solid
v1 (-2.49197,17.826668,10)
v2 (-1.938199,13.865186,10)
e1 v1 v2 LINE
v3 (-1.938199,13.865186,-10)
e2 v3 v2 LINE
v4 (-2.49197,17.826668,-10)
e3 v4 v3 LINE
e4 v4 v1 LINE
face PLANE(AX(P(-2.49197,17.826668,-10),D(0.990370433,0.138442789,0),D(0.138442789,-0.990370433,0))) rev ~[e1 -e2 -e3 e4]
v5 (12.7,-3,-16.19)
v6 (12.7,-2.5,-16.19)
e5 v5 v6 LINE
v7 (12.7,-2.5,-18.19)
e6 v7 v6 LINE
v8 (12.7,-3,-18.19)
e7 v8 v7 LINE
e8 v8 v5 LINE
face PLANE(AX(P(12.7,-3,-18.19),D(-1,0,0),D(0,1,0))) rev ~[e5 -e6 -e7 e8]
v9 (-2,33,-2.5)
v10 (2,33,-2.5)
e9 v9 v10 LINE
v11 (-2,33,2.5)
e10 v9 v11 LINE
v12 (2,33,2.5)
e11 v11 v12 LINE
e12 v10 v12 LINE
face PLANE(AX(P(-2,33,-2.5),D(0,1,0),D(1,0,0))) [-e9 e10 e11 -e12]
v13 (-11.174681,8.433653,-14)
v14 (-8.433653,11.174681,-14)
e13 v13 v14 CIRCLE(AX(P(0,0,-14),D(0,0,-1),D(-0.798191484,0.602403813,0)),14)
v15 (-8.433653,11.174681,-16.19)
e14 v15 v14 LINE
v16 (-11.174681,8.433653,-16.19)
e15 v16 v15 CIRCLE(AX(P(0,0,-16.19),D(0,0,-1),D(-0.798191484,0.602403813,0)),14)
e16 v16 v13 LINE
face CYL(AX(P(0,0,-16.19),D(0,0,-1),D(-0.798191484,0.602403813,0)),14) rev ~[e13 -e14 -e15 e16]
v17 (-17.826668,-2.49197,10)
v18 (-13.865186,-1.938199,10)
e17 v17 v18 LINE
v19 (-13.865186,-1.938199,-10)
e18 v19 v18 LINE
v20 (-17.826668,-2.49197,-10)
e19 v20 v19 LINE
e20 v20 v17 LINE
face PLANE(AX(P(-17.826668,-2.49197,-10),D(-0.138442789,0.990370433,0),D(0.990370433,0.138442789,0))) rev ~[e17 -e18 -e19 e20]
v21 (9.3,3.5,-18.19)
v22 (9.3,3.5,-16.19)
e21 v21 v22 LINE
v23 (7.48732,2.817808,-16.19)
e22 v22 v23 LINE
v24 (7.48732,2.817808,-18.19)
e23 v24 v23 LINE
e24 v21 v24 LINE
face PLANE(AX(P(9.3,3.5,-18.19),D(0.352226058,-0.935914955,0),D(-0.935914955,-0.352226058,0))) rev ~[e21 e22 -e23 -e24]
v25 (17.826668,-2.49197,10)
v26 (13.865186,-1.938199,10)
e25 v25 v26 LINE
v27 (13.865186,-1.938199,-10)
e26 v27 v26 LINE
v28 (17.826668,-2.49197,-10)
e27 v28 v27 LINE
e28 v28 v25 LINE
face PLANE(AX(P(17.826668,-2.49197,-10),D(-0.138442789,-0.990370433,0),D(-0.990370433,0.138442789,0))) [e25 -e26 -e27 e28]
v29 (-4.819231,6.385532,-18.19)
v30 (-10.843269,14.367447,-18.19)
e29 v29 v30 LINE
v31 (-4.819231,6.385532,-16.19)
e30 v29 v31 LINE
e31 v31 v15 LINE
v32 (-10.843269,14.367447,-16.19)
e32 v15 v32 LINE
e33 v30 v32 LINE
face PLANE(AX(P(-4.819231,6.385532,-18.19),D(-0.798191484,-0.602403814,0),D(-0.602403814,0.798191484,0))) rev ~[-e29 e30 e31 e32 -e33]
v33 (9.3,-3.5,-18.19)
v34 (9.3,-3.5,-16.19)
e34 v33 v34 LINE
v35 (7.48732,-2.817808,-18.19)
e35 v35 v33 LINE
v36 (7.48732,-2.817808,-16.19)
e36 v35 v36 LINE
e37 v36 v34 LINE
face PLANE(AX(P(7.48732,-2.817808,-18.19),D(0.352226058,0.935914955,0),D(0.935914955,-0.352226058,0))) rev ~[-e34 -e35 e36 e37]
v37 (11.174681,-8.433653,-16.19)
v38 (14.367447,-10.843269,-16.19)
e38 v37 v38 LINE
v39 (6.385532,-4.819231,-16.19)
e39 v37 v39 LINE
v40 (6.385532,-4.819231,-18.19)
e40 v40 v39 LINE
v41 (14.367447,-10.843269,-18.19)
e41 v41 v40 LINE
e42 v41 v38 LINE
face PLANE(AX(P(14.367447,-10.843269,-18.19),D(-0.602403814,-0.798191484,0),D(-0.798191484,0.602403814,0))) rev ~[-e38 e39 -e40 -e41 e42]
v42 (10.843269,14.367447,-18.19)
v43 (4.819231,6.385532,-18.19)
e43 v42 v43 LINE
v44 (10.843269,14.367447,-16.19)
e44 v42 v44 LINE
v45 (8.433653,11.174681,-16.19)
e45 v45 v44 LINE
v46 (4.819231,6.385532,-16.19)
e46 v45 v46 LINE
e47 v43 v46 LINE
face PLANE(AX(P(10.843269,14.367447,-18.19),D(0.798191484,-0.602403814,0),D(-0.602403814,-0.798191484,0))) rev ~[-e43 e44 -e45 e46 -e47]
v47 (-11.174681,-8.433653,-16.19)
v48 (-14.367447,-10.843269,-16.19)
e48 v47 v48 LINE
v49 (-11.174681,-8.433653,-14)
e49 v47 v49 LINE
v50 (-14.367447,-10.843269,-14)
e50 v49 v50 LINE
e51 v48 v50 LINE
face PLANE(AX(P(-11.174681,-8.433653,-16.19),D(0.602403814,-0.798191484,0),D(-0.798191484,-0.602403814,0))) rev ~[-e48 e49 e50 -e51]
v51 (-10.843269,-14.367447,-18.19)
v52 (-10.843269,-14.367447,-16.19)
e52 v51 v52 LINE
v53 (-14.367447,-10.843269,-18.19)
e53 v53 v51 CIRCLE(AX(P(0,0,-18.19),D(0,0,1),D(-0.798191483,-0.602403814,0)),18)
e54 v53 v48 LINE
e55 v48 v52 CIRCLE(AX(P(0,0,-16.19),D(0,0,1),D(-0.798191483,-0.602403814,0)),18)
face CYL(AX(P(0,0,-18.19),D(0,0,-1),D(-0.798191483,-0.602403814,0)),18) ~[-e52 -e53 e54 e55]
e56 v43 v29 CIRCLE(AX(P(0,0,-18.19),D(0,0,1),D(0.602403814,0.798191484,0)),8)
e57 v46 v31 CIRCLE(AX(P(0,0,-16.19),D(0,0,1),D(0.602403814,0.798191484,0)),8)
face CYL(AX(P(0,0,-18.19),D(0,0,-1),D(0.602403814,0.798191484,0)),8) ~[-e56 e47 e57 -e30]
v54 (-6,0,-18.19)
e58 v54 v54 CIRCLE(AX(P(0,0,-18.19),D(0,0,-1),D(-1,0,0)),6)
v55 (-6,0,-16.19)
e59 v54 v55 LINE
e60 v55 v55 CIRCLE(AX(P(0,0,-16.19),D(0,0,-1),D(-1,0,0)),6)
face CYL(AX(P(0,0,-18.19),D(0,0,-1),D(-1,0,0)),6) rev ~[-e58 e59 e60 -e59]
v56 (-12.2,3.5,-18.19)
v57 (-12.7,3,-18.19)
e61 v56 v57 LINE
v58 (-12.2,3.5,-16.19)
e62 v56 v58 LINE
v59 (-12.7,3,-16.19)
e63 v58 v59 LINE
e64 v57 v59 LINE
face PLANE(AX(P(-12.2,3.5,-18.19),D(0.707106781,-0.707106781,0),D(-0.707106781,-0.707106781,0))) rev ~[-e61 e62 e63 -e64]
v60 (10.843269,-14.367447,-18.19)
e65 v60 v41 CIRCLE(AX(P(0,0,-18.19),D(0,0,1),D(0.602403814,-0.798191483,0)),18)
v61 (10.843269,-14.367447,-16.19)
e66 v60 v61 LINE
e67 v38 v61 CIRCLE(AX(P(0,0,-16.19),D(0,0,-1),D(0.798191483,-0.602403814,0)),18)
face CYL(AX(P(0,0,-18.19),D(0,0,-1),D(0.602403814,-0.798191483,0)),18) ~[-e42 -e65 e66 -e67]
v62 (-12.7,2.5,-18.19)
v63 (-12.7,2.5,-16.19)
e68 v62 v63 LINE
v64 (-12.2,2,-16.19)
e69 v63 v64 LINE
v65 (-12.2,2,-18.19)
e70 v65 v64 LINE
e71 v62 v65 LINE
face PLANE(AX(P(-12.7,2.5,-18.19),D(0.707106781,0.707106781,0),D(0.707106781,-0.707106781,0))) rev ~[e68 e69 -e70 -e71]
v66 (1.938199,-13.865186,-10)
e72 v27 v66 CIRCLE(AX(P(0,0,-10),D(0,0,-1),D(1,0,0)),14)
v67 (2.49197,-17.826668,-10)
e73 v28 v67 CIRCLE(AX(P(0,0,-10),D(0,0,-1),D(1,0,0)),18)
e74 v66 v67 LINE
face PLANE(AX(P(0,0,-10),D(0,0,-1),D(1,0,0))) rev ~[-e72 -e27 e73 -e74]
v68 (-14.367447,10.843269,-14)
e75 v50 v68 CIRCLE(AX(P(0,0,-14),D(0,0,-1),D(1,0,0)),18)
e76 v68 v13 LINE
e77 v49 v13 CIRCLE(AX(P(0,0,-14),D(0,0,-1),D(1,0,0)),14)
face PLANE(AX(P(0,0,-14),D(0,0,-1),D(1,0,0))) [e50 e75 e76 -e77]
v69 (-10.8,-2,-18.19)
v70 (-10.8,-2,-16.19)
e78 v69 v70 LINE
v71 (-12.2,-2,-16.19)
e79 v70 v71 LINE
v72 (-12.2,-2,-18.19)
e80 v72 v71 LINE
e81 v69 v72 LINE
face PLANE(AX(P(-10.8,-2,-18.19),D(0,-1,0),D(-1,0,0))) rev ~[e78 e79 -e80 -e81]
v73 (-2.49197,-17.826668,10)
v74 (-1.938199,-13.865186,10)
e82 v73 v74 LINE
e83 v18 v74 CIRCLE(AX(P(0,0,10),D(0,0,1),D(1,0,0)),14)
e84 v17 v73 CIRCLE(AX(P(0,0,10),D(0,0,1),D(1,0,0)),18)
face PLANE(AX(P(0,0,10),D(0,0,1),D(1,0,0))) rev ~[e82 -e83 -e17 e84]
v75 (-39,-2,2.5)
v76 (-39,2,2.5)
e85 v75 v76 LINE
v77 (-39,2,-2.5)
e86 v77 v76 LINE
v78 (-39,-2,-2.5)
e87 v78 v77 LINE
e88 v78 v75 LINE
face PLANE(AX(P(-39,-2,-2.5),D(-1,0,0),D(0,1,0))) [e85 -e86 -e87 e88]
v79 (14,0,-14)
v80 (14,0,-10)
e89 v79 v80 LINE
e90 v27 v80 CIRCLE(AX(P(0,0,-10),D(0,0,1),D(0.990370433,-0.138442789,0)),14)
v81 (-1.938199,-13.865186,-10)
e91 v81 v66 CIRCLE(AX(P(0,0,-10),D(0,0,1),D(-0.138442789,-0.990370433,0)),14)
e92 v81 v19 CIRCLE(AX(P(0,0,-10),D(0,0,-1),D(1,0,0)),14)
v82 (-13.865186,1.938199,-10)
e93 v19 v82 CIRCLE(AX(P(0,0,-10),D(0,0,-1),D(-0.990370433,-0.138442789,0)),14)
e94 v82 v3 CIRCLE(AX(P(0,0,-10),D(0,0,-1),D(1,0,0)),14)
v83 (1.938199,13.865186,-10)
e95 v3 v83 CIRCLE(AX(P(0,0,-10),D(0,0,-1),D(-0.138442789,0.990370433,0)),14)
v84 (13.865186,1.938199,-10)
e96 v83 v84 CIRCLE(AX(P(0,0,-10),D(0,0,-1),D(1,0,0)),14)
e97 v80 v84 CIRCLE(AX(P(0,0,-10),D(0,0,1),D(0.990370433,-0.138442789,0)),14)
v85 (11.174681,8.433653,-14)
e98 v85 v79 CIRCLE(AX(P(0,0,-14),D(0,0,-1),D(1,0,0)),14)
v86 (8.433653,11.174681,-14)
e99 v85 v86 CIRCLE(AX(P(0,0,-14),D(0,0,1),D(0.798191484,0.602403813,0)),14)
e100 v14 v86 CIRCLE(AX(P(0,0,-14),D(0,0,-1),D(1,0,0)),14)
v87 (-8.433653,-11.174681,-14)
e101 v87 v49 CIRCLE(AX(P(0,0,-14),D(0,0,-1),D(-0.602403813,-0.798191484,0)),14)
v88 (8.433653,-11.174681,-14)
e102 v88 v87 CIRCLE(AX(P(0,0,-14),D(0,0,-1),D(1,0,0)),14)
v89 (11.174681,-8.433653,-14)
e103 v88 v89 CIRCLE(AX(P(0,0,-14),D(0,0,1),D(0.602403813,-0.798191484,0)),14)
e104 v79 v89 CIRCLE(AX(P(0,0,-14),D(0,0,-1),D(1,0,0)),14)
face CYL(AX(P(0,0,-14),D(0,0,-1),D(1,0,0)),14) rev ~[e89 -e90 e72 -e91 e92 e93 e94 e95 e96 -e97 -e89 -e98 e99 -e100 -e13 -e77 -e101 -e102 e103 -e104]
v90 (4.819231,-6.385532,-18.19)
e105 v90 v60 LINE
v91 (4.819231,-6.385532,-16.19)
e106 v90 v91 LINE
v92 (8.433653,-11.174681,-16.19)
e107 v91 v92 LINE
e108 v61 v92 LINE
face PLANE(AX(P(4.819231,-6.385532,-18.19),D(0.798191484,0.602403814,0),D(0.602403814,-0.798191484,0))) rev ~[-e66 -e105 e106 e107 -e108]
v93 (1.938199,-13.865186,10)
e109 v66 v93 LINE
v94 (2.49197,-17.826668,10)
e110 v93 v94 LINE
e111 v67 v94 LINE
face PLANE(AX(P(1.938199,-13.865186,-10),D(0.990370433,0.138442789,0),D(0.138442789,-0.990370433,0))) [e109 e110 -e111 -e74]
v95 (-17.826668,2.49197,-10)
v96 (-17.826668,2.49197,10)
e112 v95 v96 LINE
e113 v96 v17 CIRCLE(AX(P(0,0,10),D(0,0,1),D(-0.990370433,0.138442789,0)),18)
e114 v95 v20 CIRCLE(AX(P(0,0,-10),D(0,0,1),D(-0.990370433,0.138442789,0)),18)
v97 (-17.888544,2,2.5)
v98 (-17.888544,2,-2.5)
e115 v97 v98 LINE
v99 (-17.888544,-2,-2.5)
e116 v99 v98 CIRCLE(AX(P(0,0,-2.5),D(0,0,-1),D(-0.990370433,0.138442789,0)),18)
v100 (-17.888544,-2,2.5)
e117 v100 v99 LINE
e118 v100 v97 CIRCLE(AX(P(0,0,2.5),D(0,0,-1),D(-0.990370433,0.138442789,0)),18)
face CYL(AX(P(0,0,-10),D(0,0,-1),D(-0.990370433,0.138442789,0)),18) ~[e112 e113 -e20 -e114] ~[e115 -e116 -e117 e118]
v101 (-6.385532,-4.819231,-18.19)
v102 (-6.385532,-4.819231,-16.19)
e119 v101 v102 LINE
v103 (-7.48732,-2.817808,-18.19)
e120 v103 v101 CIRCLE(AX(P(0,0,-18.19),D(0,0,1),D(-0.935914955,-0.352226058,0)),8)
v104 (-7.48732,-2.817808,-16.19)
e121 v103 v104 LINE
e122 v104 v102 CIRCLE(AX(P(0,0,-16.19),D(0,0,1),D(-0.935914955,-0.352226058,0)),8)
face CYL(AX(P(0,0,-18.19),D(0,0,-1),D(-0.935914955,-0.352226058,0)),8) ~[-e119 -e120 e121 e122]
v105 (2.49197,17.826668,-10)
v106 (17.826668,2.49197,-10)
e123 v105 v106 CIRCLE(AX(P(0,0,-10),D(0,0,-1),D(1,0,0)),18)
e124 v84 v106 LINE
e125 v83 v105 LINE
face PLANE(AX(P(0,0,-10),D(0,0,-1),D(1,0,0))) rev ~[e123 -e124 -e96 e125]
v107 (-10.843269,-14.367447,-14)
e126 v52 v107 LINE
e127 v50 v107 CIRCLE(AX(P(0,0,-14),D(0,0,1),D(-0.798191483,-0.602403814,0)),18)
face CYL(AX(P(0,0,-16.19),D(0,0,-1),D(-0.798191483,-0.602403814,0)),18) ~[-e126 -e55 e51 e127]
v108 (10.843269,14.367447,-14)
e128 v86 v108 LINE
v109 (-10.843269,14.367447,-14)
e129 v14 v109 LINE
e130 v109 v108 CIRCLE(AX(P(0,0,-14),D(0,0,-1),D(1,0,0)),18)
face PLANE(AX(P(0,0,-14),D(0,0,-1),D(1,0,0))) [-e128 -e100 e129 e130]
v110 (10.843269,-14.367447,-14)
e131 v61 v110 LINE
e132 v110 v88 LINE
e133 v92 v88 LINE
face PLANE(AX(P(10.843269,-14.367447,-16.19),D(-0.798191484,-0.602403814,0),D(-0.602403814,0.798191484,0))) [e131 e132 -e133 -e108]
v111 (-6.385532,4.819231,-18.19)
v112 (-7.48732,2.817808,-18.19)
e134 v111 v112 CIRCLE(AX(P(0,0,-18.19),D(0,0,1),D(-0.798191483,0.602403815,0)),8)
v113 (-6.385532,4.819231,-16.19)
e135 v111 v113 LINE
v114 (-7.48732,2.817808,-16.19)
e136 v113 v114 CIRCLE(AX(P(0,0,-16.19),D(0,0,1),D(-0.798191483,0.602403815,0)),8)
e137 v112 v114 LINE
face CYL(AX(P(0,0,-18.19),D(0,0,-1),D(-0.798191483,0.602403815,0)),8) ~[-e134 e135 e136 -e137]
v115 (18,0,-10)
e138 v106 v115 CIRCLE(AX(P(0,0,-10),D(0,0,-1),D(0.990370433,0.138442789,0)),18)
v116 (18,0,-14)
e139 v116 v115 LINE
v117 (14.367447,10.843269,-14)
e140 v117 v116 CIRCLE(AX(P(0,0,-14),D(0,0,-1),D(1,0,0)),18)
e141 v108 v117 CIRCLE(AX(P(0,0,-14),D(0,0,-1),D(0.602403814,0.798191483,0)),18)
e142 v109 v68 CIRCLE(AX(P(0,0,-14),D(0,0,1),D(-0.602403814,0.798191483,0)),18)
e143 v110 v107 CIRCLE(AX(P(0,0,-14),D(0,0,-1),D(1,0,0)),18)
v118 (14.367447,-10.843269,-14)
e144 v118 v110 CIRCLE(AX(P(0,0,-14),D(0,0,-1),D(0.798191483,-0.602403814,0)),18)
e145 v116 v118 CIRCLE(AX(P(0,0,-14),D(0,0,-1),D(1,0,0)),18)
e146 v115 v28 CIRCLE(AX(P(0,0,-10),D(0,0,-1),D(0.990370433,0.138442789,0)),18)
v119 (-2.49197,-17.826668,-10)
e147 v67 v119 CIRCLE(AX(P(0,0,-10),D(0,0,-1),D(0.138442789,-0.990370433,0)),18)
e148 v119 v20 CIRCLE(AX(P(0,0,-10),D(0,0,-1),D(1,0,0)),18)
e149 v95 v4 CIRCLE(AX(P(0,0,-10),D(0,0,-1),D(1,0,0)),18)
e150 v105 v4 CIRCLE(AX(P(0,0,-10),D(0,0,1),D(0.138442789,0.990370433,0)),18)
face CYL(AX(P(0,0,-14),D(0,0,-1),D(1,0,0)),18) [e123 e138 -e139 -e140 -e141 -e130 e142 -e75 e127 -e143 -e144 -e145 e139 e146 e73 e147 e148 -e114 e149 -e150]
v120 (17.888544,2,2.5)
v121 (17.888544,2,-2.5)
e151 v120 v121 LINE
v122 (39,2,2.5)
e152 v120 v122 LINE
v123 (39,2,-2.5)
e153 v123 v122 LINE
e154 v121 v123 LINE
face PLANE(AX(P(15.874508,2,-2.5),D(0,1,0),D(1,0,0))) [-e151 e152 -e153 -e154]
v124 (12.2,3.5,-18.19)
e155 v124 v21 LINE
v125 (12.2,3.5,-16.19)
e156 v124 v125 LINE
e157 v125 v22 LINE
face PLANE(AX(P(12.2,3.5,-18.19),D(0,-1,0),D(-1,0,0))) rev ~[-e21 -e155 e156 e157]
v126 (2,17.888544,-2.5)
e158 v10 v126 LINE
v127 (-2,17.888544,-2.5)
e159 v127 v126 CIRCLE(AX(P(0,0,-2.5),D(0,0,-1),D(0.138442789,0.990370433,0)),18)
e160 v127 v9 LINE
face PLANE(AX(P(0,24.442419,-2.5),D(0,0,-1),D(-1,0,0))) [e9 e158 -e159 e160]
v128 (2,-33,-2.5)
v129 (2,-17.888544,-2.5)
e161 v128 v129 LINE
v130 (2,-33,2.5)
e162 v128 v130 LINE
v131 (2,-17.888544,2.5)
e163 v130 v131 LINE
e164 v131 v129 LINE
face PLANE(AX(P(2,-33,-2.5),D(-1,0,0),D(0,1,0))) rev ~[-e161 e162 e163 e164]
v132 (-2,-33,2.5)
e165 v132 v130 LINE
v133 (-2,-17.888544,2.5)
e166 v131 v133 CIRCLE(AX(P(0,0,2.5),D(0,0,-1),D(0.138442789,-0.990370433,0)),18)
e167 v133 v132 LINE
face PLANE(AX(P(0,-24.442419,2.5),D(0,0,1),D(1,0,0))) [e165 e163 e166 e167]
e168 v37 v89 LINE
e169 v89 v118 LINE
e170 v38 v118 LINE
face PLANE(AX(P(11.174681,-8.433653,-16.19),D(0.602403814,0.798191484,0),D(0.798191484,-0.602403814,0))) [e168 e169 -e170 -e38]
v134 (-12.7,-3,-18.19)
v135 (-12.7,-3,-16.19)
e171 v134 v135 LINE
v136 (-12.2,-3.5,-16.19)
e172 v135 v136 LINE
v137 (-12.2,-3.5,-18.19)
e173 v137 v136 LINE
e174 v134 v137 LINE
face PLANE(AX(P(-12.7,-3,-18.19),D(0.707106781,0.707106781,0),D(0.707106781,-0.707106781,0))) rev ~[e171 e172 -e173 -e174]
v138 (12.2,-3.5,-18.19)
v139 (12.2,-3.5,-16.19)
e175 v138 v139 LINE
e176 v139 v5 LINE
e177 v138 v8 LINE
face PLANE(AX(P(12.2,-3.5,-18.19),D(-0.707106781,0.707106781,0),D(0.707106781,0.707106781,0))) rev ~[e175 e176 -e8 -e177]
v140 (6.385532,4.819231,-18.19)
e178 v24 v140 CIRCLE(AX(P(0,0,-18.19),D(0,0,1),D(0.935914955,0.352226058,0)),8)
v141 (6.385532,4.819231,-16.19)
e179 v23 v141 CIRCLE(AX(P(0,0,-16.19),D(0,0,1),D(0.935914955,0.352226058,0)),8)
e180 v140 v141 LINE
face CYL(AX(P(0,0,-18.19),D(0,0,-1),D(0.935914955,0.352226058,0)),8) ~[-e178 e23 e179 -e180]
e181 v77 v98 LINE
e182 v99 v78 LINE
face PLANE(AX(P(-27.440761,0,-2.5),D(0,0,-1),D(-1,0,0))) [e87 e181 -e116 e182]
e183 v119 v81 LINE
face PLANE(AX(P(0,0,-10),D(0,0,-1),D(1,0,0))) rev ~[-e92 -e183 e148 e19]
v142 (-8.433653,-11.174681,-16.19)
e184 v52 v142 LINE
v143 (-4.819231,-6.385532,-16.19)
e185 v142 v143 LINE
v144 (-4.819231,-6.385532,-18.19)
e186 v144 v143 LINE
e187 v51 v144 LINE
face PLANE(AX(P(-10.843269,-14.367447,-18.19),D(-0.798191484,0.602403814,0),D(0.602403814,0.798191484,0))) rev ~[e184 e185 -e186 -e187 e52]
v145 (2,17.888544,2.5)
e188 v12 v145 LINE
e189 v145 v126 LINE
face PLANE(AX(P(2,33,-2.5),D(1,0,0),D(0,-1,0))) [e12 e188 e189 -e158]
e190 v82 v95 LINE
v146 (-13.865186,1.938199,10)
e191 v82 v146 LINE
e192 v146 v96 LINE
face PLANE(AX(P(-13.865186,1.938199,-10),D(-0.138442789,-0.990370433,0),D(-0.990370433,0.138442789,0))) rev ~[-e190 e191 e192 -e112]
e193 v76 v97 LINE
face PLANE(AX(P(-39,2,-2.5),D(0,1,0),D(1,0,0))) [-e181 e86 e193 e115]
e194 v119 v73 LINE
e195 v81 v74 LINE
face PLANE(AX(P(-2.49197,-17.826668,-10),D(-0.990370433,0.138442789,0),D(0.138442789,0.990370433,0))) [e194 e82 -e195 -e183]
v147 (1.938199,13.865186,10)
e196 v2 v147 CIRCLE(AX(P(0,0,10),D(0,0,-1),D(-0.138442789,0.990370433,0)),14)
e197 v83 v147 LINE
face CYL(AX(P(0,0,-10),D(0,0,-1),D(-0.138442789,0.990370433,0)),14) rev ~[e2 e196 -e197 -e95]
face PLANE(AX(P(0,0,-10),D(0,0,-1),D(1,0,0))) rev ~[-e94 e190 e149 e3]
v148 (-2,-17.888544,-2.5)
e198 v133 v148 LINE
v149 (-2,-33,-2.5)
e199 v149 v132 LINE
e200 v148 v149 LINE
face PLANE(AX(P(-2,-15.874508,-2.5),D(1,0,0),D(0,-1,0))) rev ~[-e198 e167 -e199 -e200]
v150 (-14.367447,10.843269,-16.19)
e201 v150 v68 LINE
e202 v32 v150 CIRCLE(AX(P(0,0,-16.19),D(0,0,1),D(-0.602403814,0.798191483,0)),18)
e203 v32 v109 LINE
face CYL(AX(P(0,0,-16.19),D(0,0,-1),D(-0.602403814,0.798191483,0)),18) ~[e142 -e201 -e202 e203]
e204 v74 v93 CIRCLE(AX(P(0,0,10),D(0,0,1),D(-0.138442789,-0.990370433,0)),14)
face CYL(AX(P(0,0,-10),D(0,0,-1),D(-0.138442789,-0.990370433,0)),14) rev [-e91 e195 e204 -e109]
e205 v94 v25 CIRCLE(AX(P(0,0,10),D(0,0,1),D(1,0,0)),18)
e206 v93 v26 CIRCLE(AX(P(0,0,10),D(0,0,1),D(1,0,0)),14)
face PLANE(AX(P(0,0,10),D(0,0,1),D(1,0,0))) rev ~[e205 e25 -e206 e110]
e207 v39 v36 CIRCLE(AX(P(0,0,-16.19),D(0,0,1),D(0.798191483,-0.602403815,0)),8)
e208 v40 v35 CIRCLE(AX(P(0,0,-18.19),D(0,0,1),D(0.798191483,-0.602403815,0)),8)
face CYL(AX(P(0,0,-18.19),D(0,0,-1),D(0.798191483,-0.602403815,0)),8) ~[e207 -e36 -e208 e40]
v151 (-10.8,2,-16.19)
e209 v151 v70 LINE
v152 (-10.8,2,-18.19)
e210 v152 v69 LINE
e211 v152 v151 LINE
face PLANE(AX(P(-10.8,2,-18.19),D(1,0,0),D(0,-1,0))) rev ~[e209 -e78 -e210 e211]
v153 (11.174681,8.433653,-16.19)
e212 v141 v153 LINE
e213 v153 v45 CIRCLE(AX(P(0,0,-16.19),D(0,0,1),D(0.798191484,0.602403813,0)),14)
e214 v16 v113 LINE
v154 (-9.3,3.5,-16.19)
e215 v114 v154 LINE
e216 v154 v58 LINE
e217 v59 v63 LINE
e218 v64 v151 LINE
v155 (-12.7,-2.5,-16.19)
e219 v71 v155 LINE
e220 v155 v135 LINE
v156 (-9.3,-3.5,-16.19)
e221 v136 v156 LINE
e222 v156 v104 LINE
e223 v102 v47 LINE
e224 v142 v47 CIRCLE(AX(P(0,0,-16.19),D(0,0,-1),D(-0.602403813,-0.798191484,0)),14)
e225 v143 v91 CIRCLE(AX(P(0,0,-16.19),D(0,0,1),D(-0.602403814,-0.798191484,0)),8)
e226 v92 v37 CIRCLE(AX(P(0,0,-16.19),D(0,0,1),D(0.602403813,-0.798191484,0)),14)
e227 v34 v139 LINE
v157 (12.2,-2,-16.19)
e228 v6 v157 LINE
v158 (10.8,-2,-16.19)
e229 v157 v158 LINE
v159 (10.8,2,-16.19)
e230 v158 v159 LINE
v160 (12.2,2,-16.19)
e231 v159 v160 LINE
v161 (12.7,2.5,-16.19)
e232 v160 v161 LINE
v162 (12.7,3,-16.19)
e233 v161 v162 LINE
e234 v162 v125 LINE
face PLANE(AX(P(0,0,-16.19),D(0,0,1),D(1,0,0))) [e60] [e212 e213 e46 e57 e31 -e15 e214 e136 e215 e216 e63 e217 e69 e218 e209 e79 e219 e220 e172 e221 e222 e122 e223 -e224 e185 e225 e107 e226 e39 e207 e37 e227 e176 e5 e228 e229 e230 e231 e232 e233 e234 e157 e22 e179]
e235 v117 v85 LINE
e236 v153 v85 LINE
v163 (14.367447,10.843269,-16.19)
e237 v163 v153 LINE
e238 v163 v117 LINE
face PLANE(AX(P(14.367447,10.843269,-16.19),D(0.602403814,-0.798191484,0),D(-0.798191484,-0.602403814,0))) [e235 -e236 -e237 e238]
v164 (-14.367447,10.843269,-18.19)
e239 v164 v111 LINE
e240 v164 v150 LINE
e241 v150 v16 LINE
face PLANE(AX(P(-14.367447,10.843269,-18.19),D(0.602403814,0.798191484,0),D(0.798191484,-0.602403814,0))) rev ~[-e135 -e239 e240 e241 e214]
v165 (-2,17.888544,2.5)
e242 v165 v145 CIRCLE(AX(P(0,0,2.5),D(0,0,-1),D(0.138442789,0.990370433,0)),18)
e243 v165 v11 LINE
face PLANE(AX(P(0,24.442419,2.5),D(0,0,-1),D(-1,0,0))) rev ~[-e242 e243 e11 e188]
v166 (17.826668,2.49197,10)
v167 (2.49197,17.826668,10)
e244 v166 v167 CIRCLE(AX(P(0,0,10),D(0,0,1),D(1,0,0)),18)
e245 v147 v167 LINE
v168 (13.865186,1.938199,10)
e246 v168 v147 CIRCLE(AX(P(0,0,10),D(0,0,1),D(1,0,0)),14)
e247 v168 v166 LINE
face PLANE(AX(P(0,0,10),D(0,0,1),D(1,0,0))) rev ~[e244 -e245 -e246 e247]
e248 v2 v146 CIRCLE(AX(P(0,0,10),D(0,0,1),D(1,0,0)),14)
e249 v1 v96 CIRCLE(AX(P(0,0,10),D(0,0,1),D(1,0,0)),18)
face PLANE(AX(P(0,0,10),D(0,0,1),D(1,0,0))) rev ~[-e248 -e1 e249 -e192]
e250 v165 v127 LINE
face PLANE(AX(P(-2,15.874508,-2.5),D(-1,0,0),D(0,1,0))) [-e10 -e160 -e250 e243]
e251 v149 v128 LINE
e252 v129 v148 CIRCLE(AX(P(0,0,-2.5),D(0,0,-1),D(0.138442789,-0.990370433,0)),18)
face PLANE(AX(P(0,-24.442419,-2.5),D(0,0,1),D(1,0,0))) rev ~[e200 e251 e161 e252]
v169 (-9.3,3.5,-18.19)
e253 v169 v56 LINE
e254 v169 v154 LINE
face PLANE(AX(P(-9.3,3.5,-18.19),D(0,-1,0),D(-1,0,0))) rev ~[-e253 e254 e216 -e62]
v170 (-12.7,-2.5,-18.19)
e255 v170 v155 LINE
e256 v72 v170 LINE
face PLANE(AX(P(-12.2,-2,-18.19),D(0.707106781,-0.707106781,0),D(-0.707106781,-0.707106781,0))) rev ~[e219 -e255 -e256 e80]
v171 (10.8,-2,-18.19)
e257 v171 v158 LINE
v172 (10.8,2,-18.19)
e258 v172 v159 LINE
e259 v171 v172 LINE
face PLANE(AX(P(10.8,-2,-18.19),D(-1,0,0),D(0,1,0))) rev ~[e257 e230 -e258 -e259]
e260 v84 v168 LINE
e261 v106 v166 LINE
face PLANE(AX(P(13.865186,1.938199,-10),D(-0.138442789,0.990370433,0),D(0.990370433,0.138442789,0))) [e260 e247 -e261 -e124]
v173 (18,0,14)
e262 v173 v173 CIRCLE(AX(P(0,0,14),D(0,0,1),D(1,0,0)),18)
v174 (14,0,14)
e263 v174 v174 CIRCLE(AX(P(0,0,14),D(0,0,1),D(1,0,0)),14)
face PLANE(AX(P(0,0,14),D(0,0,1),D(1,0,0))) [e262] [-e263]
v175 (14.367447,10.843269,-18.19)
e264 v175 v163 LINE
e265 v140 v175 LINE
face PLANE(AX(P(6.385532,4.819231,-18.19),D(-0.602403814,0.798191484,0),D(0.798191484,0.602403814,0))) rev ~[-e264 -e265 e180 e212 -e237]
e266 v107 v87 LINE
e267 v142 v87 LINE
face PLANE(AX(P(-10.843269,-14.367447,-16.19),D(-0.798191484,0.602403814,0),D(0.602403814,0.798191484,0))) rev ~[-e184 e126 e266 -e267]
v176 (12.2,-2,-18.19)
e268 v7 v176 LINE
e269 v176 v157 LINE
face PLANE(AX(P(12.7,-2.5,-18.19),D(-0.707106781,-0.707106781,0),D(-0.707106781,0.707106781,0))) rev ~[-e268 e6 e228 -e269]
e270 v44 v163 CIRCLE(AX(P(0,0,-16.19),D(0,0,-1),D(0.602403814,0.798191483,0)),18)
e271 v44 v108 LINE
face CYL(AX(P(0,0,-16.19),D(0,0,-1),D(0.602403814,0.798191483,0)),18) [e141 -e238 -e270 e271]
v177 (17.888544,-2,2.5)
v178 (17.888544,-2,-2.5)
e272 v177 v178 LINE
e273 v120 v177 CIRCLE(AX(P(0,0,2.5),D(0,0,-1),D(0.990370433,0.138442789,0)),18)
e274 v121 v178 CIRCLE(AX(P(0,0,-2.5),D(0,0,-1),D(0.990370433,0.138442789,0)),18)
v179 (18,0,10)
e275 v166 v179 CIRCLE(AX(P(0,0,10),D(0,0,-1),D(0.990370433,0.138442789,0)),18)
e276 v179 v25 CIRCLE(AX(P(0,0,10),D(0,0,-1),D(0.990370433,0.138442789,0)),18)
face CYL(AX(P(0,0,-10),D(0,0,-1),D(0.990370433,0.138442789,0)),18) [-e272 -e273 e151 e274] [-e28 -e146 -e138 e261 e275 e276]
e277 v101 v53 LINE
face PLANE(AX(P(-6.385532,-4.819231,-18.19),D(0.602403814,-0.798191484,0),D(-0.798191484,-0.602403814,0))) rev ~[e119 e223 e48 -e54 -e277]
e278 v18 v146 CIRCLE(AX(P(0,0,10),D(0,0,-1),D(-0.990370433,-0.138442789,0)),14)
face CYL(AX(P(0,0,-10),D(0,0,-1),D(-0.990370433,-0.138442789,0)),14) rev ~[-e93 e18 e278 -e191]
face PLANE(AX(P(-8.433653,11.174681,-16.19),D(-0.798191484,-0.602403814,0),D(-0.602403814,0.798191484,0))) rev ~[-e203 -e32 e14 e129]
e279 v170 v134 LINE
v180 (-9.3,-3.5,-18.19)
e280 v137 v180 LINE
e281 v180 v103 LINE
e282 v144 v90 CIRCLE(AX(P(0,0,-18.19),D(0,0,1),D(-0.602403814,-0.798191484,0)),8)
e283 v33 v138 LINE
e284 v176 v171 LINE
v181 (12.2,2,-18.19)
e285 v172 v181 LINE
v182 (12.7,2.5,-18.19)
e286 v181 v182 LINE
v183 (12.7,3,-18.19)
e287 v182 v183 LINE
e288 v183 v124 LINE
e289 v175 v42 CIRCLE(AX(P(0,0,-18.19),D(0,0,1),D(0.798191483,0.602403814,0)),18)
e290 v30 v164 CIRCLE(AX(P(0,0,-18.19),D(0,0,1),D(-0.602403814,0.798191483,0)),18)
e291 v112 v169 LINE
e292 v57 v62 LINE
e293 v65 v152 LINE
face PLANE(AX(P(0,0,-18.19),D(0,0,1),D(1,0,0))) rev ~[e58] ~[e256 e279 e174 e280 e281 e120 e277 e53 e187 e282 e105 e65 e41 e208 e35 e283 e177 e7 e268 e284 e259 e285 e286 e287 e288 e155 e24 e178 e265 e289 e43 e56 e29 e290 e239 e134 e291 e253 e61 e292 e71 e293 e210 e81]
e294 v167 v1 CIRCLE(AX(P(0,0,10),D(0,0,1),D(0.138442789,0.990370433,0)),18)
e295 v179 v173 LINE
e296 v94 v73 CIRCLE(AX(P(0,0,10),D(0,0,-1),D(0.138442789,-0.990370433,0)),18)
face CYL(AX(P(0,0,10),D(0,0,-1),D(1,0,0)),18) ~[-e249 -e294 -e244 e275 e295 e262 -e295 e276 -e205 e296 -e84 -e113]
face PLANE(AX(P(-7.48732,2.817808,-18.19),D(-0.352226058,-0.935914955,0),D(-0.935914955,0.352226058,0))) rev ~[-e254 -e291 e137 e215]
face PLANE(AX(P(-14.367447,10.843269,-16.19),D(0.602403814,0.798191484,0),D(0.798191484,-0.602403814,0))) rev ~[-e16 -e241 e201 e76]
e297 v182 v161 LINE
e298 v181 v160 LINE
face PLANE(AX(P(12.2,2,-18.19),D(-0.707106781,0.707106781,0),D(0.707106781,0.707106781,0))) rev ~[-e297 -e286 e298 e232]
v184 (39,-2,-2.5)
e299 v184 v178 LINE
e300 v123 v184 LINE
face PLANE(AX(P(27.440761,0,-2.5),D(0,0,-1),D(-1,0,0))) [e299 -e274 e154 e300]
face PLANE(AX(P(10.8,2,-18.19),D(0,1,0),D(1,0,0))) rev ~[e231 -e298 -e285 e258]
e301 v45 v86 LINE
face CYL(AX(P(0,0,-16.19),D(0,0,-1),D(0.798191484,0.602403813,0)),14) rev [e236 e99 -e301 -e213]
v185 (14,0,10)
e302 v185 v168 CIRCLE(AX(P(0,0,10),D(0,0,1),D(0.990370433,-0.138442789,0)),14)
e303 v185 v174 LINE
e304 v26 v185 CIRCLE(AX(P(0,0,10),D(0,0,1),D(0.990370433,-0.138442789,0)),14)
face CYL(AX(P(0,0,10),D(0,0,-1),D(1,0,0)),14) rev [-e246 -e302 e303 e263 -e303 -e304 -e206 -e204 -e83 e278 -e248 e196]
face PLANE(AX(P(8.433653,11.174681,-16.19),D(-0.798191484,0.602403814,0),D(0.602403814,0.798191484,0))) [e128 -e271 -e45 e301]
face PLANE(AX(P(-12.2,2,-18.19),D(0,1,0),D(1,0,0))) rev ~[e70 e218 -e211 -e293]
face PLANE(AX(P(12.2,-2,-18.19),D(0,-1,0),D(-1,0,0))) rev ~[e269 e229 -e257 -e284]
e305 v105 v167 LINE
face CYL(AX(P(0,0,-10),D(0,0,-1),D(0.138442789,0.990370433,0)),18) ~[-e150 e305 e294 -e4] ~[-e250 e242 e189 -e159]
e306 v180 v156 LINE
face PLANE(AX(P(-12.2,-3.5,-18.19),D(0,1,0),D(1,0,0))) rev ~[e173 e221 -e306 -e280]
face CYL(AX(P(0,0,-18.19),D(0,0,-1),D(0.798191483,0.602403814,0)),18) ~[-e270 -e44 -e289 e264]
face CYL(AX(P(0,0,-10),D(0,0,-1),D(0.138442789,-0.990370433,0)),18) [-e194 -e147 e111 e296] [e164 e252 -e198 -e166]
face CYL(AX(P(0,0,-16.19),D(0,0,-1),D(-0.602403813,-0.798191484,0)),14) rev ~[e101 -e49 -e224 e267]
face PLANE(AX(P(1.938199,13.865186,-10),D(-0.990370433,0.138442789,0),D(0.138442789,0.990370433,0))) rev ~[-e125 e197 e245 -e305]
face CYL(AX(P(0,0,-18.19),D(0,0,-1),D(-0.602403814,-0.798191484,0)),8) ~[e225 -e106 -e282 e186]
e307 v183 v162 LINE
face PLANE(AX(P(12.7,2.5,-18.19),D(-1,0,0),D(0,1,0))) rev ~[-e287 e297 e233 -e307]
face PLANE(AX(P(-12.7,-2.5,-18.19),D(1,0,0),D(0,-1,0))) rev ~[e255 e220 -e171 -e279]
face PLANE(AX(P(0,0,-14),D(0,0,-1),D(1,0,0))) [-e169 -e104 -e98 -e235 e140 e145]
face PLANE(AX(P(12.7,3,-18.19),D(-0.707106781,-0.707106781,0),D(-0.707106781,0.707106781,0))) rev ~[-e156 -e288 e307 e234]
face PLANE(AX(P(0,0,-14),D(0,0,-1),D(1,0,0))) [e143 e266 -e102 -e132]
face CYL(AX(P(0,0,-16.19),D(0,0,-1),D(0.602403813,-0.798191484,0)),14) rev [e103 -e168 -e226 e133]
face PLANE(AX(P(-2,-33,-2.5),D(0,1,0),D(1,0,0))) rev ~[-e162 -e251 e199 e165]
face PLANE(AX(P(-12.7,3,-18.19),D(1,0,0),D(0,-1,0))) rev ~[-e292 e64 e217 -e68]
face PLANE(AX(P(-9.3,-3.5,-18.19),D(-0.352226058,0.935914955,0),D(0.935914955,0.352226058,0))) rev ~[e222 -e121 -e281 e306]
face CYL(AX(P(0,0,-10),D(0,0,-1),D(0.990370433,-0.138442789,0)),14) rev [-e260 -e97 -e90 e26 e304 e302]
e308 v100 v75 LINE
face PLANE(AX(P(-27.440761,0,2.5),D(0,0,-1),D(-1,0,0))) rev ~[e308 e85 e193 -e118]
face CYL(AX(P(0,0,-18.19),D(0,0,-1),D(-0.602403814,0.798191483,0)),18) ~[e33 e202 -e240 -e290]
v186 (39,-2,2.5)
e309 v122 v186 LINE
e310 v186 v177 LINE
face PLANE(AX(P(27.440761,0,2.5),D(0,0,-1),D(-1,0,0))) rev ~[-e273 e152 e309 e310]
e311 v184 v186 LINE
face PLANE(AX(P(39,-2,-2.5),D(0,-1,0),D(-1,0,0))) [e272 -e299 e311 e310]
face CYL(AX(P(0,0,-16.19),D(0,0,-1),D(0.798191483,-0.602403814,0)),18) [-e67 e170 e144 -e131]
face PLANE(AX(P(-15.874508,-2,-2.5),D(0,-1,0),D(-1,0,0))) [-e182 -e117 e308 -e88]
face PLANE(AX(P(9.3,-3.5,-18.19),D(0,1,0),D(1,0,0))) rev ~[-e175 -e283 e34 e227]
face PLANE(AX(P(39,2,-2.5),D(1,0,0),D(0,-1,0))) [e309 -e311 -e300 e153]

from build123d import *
from build123d.topology import SkipClean

# Parameters (mm, degrees)
BOSS_EXTRUDE1_DEPTH        = 10
BOSS_EXTRUDE1_DEPTH_BACK   = 10
BOSS_EXTRUDE1_2_DEPTH      = 10
BOSS_EXTRUDE1_2_DEPTH_BACK = 10
BOSS_EXTRUDE1_3_DEPTH      = 10
BOSS_EXTRUDE1_3_DEPTH_BACK = 10
BOSS_EXTRUDE1_4_DEPTH      = 10
BOSS_EXTRUDE1_4_DEPTH_BACK = 10
SKETCH2_R                  = 18
SKETCH2_R_2                = 14
BOSS_EXTRUDE2_DEPTH        = 4
BOSS_EXTRUDE3_START        = 4
SKETCH3_R                  = 18
SKETCH3_R_2                = 14
BOSS_EXTRUDE3_DEPTH        = 4
BOSS_EXTRUDE4_START        = 2.19
BOSS_EXTRUDE4_DEPTH        = 2.19
BOSS_EXTRUDE5_START        = 2
SKETCH5_R                  = 6
BOSS_EXTRUDE5_DEPTH        = 2
BOSS_EXTRUDE6_DEPTH        = 2.5
BOSS_EXTRUDE6_DEPTH_BACK   = 2.5


with BuildPart() as part:
    # Sketch1 → Boss-Extrude1 (new, two sides: drawn at the far end of the back side and taken through both)
    with BuildSketch(Plane.XY.offset(-BOSS_EXTRUDE1_DEPTH_BACK)):
        with BuildLine():
            Line((-2.491970197, -17.826667791), (-1.938199042, -13.86518606))
            ThreePointArc((-1.938199042, -13.86518606), (0, -14), (1.938199042, -13.86518606))
            Line((1.938199042, -13.86518606), (2.491970197, -17.826667791))
            ThreePointArc((2.491970197, -17.826667791), (0, -18), (-2.491970197, -17.826667791))
        make_face()
    extrude(amount=BOSS_EXTRUDE1_DEPTH + BOSS_EXTRUDE1_DEPTH_BACK)



with BuildPart() as body_2:
    # Sketch1 → Boss-Extrude1 2 (new, two sides: drawn at the far end of the back side and taken through both)
    with BuildSketch(Plane.XY.offset(-BOSS_EXTRUDE1_2_DEPTH_BACK)):
        with BuildLine():
            Line((-17.826667791, -2.491970197), (-13.86518606, -1.938199042))
            ThreePointArc((-13.86518606, -1.938199042), (-14, 0), (-13.86518606, 1.938199042))
            Line((-13.86518606, 1.938199042), (-17.826667791, 2.491970197))
            ThreePointArc((-17.826667791, 2.491970197), (-18, 0), (-17.826667791, -2.491970197))
        make_face()
    extrude(amount=BOSS_EXTRUDE1_2_DEPTH + BOSS_EXTRUDE1_2_DEPTH_BACK)


with BuildPart() as body_3:
    # Sketch1 → Boss-Extrude1 3 (new, two sides: drawn at the far end of the back side and taken through both)
    with BuildSketch(Plane.XY.offset(-BOSS_EXTRUDE1_3_DEPTH_BACK)):
        with BuildLine():
            Line((-2.491970197, 17.826667791), (-1.938199042, 13.86518606))
            ThreePointArc((-1.938199042, 13.86518606), (0, 14), (1.938199042, 13.86518606))
            Line((1.938199042, 13.86518606), (2.491970197, 17.826667791))
            ThreePointArc((2.491970197, 17.826667791), (0, 18), (-2.491970197, 17.826667791))
        make_face()
    extrude(amount=BOSS_EXTRUDE1_3_DEPTH + BOSS_EXTRUDE1_3_DEPTH_BACK)


with BuildPart() as body_4:
    # Sketch1 → Boss-Extrude1 4 (new, two sides: drawn at the far end of the back side and taken through both)
    with BuildSketch(Plane.XY.offset(-BOSS_EXTRUDE1_4_DEPTH_BACK)):
        with BuildLine():
            Line((17.826667791, -2.491970197), (13.86518606, -1.938199042))
            ThreePointArc((13.86518606, -1.938199042), (14, 0), (13.86518606, 1.938199042))
            Line((13.86518606, 1.938199042), (17.826667791, 2.491970197))
            ThreePointArc((17.826667791, 2.491970197), (18, 0), (17.826667791, -2.491970197))
        make_face()
    extrude(amount=BOSS_EXTRUDE1_4_DEPTH + BOSS_EXTRUDE1_4_DEPTH_BACK)


with BuildPart() as part_1:
    with SkipClean():  # the faces are left unmerged after this step: merging them gives an invalid solid
        add(part.part)

        add(body_2.part)  # Boss-Extrude2 merges body 2

        add(body_3.part)  # Boss-Extrude2 merges body 3

        add(body_4.part)  # Boss-Extrude2 merges body 4
        # Sketch2 → Boss-Extrude2 (add)
        with BuildSketch(Plane.XY.offset(10)):
            Circle(SKETCH2_R)
            Circle(SKETCH2_R_2, mode=Mode.SUBTRACT)
        extrude(amount=BOSS_EXTRUDE2_DEPTH)

    # Sketch3 → Boss-Extrude3 (add)
    with SkipClean():  # the faces are left unmerged after this step: merging them gives an invalid solid
        with BuildSketch(Plane(origin=(0, 0, -10), x_dir=(-1, 0, 0), z_dir=(0, 0, -1)).offset(BOSS_EXTRUDE3_START)):
            Circle(SKETCH3_R)
            Circle(SKETCH3_R_2, mode=Mode.SUBTRACT)
        extrude(amount=-BOSS_EXTRUDE3_DEPTH)

    # Sketch4 → Boss-Extrude4 (add)
    with SkipClean():  # the faces are left unmerged after this step: merging them gives an invalid solid
        with BuildSketch(Plane(origin=(0, 0, -14), x_dir=(-1, 0, 0), z_dir=(0, 0, -1)).offset(BOSS_EXTRUDE4_START)):
            with BuildLine():
                Line((10.843268656, -14.367446706), (8.433653399, -11.174680771))
                ThreePointArc((8.433653399, -11.174680771), (9.899494937, -9.899494937), (11.174680771, -8.433653399))
                Line((11.174680771, -8.433653399), (14.367446706, -10.843268656))
                ThreePointArc((14.367446706, -10.843268656), (12.727922061, -12.727922061), (10.843268656, -14.367446706))
            make_face()
            with BuildLine():
                Line((-10.843268656, -14.367446706), (-8.433653399, -11.174680771))
                ThreePointArc((-8.433653399, -11.174680771), (-9.899494937, -9.899494937), (-11.174680771, -8.433653399))
                Line((-11.174680771, -8.433653399), (-14.367446706, -10.843268656))
                ThreePointArc((-14.367446706, -10.843268656), (-12.727922061, -12.727922061), (-10.843268656, -14.367446706))
            make_face()
            with BuildLine():
                Line((14.367446706, 10.843268656), (11.174680771, 8.433653399))
                ThreePointArc((11.174680771, 8.433653399), (9.899494937, 9.899494937), (8.433653399, 11.174680771))
                Line((8.433653399, 11.174680771), (10.843268656, 14.367446706))
                ThreePointArc((10.843268656, 14.367446706), (12.727922061, 12.727922061), (14.367446706, 10.843268656))
            make_face()
            with BuildLine():
                Line((-8.433653399, 11.174680771), (-10.843268656, 14.367446706))
                ThreePointArc((-10.843268656, 14.367446706), (-12.727922061, 12.727922061), (-14.367446706, 10.843268656))
                Line((-14.367446706, 10.843268656), (-11.174680771, 8.433653399))
                ThreePointArc((-11.174680771, 8.433653399), (-9.899494937, 9.899494937), (-8.433653399, 11.174680771))
            make_face()
        extrude(amount=-BOSS_EXTRUDE4_DEPTH)

    # Sketch5 → Boss-Extrude5 (add)
    with SkipClean():  # the faces are left unmerged after this step: merging them gives an invalid solid
        with BuildSketch(Plane(origin=(0, 0, -16.19), x_dir=(-1, 0, 0), z_dir=(0, 0, -1)).offset(BOSS_EXTRUDE5_START)):
            with BuildLine():
                Line((-10.843268656, 14.367446706), (-4.819230514, 6.385531869))
                ThreePointArc((-4.819230514, 6.385531869), (0, 8), (4.819230514, 6.385531869))
                Line((4.819230514, 6.385531869), (10.843268656, 14.367446706))
                ThreePointArc((10.843268656, 14.367446706), (12.727922061, 12.727922061), (14.367446706, 10.843268656))
                Line((14.367446706, 10.843268656), (6.385531869, 4.819230514))
                ThreePointArc((6.385531869, 4.819230514), (7.008239781, 3.858053288), (7.487319643, 2.817808468))
                Line((7.487319643, 2.817808468), (9.3, 3.5))
                Line((9.3, 3.5), (12.2, 3.5))
                Line((12.2, 3.5), (12.7, 3))
                Line((12.7, 3), (12.7, 2.5))
                Line((12.7, 2.5), (12.2, 2))
                Line((12.2, 2), (10.8, 2))
                Line((10.8, 2), (10.8, -2))
                Line((10.8, -2), (12.2, -2))
                Line((12.2, -2), (12.7, -2.5))
                Line((12.7, -2.5), (12.7, -3))
                Line((12.7, -3), (12.2, -3.5))
                Line((12.2, -3.5), (9.3, -3.5))
                Line((9.3, -3.5), (7.487319643, -2.817808468))
                ThreePointArc((7.487319643, -2.817808468), (7.008239781, -3.858053288), (6.385531869, -4.819230514))
                Line((6.385531869, -4.819230514), (14.367446706, -10.843268656))
                ThreePointArc((14.367446706, -10.843268656), (12.727922061, -12.727922061), (10.843268656, -14.367446706))
                Line((10.843268656, -14.367446706), (4.819230514, -6.385531869))
                ThreePointArc((4.819230514, -6.385531869), (0, -8), (-4.819230514, -6.385531869))
                Line((-4.819230514, -6.385531869), (-10.843268656, -14.367446706))
                ThreePointArc((-10.843268656, -14.367446706), (-12.727922061, -12.727922061), (-14.367446706, -10.843268656))
                Line((-14.367446706, -10.843268656), (-6.385531869, -4.819230514))
                ThreePointArc((-6.385531869, -4.819230514), (-7.008239781, -3.858053288), (-7.487319643, -2.817808468))
                Line((-7.487319643, -2.817808468), (-9.3, -3.5))
                Line((-9.3, -3.5), (-12.2, -3.5))
                Line((-12.2, -3.5), (-12.7, -3))
                Line((-12.7, -3), (-12.7, -2.5))
                Line((-12.7, -2.5), (-12.2, -2))
                Line((-12.2, -2), (-10.8, -2))
                Line((-10.8, -2), (-10.8, 2))
                Line((-10.8, 2), (-12.2, 2))
                Line((-12.2, 2), (-12.7, 2.5))
                Line((-12.7, 2.5), (-12.7, 3))
                Line((-12.7, 3), (-12.2, 3.5))
                Line((-12.2, 3.5), (-9.3, 3.5))
                Line((-9.3, 3.5), (-7.487319643, 2.817808468))
                ThreePointArc((-7.487319643, 2.817808468), (-7.008239781, 3.858053288), (-6.385531869, 4.819230514))
                Line((-6.385531869, 4.819230514), (-14.367446706, 10.843268656))
                ThreePointArc((-14.367446706, 10.843268656), (-12.727922061, 12.727922061), (-10.843268656, 14.367446706))
            make_face()
            Circle(SKETCH5_R, mode=Mode.SUBTRACT)
        extrude(amount=-BOSS_EXTRUDE5_DEPTH)

    # Sketch6 → Boss-Extrude6 (add, two sides: drawn at the far end of the back side and taken through both)
    with SkipClean():  # the faces are left unmerged after this step: merging them gives an invalid solid
        with BuildSketch(Plane.XY.offset(-BOSS_EXTRUDE6_DEPTH_BACK)):
            with BuildLine():
                Line((-39, 2), (-15.874507866, 2))
                ThreePointArc((-15.874507866, 2), (-16, 0), (-15.874507866, -2))
                Line((-15.874507866, -2), (-39, -2))
                Line((-39, -2), (-39, 2))
            make_face()
            with BuildLine():
                Line((39, 2), (39, -2))
                Line((39, -2), (15.874507866, -2))
                ThreePointArc((15.874507866, -2), (16, 0), (15.874507866, 2))
                Line((15.874507866, 2), (39, 2))
            make_face()
            with BuildLine():
                Line((-2, 33), (2, 33))
                Line((2, 33), (2, 15.874507866))
                ThreePointArc((2, 15.874507866), (0, 16), (-2, 15.874507866))
                Line((-2, 15.874507866), (-2, 33))
            make_face()
            with BuildLine():
                Line((-2, -33), (2, -33))
                Line((2, -33), (2, -15.874507866))
                ThreePointArc((2, -15.874507866), (0, -16), (-2, -15.874507866))
                Line((-2, -15.874507866), (-2, -33))
            make_face()
        extrude(amount=BOSS_EXTRUDE6_DEPTH + BOSS_EXTRUDE6_DEPTH_BACK)


solid = part_1.part
